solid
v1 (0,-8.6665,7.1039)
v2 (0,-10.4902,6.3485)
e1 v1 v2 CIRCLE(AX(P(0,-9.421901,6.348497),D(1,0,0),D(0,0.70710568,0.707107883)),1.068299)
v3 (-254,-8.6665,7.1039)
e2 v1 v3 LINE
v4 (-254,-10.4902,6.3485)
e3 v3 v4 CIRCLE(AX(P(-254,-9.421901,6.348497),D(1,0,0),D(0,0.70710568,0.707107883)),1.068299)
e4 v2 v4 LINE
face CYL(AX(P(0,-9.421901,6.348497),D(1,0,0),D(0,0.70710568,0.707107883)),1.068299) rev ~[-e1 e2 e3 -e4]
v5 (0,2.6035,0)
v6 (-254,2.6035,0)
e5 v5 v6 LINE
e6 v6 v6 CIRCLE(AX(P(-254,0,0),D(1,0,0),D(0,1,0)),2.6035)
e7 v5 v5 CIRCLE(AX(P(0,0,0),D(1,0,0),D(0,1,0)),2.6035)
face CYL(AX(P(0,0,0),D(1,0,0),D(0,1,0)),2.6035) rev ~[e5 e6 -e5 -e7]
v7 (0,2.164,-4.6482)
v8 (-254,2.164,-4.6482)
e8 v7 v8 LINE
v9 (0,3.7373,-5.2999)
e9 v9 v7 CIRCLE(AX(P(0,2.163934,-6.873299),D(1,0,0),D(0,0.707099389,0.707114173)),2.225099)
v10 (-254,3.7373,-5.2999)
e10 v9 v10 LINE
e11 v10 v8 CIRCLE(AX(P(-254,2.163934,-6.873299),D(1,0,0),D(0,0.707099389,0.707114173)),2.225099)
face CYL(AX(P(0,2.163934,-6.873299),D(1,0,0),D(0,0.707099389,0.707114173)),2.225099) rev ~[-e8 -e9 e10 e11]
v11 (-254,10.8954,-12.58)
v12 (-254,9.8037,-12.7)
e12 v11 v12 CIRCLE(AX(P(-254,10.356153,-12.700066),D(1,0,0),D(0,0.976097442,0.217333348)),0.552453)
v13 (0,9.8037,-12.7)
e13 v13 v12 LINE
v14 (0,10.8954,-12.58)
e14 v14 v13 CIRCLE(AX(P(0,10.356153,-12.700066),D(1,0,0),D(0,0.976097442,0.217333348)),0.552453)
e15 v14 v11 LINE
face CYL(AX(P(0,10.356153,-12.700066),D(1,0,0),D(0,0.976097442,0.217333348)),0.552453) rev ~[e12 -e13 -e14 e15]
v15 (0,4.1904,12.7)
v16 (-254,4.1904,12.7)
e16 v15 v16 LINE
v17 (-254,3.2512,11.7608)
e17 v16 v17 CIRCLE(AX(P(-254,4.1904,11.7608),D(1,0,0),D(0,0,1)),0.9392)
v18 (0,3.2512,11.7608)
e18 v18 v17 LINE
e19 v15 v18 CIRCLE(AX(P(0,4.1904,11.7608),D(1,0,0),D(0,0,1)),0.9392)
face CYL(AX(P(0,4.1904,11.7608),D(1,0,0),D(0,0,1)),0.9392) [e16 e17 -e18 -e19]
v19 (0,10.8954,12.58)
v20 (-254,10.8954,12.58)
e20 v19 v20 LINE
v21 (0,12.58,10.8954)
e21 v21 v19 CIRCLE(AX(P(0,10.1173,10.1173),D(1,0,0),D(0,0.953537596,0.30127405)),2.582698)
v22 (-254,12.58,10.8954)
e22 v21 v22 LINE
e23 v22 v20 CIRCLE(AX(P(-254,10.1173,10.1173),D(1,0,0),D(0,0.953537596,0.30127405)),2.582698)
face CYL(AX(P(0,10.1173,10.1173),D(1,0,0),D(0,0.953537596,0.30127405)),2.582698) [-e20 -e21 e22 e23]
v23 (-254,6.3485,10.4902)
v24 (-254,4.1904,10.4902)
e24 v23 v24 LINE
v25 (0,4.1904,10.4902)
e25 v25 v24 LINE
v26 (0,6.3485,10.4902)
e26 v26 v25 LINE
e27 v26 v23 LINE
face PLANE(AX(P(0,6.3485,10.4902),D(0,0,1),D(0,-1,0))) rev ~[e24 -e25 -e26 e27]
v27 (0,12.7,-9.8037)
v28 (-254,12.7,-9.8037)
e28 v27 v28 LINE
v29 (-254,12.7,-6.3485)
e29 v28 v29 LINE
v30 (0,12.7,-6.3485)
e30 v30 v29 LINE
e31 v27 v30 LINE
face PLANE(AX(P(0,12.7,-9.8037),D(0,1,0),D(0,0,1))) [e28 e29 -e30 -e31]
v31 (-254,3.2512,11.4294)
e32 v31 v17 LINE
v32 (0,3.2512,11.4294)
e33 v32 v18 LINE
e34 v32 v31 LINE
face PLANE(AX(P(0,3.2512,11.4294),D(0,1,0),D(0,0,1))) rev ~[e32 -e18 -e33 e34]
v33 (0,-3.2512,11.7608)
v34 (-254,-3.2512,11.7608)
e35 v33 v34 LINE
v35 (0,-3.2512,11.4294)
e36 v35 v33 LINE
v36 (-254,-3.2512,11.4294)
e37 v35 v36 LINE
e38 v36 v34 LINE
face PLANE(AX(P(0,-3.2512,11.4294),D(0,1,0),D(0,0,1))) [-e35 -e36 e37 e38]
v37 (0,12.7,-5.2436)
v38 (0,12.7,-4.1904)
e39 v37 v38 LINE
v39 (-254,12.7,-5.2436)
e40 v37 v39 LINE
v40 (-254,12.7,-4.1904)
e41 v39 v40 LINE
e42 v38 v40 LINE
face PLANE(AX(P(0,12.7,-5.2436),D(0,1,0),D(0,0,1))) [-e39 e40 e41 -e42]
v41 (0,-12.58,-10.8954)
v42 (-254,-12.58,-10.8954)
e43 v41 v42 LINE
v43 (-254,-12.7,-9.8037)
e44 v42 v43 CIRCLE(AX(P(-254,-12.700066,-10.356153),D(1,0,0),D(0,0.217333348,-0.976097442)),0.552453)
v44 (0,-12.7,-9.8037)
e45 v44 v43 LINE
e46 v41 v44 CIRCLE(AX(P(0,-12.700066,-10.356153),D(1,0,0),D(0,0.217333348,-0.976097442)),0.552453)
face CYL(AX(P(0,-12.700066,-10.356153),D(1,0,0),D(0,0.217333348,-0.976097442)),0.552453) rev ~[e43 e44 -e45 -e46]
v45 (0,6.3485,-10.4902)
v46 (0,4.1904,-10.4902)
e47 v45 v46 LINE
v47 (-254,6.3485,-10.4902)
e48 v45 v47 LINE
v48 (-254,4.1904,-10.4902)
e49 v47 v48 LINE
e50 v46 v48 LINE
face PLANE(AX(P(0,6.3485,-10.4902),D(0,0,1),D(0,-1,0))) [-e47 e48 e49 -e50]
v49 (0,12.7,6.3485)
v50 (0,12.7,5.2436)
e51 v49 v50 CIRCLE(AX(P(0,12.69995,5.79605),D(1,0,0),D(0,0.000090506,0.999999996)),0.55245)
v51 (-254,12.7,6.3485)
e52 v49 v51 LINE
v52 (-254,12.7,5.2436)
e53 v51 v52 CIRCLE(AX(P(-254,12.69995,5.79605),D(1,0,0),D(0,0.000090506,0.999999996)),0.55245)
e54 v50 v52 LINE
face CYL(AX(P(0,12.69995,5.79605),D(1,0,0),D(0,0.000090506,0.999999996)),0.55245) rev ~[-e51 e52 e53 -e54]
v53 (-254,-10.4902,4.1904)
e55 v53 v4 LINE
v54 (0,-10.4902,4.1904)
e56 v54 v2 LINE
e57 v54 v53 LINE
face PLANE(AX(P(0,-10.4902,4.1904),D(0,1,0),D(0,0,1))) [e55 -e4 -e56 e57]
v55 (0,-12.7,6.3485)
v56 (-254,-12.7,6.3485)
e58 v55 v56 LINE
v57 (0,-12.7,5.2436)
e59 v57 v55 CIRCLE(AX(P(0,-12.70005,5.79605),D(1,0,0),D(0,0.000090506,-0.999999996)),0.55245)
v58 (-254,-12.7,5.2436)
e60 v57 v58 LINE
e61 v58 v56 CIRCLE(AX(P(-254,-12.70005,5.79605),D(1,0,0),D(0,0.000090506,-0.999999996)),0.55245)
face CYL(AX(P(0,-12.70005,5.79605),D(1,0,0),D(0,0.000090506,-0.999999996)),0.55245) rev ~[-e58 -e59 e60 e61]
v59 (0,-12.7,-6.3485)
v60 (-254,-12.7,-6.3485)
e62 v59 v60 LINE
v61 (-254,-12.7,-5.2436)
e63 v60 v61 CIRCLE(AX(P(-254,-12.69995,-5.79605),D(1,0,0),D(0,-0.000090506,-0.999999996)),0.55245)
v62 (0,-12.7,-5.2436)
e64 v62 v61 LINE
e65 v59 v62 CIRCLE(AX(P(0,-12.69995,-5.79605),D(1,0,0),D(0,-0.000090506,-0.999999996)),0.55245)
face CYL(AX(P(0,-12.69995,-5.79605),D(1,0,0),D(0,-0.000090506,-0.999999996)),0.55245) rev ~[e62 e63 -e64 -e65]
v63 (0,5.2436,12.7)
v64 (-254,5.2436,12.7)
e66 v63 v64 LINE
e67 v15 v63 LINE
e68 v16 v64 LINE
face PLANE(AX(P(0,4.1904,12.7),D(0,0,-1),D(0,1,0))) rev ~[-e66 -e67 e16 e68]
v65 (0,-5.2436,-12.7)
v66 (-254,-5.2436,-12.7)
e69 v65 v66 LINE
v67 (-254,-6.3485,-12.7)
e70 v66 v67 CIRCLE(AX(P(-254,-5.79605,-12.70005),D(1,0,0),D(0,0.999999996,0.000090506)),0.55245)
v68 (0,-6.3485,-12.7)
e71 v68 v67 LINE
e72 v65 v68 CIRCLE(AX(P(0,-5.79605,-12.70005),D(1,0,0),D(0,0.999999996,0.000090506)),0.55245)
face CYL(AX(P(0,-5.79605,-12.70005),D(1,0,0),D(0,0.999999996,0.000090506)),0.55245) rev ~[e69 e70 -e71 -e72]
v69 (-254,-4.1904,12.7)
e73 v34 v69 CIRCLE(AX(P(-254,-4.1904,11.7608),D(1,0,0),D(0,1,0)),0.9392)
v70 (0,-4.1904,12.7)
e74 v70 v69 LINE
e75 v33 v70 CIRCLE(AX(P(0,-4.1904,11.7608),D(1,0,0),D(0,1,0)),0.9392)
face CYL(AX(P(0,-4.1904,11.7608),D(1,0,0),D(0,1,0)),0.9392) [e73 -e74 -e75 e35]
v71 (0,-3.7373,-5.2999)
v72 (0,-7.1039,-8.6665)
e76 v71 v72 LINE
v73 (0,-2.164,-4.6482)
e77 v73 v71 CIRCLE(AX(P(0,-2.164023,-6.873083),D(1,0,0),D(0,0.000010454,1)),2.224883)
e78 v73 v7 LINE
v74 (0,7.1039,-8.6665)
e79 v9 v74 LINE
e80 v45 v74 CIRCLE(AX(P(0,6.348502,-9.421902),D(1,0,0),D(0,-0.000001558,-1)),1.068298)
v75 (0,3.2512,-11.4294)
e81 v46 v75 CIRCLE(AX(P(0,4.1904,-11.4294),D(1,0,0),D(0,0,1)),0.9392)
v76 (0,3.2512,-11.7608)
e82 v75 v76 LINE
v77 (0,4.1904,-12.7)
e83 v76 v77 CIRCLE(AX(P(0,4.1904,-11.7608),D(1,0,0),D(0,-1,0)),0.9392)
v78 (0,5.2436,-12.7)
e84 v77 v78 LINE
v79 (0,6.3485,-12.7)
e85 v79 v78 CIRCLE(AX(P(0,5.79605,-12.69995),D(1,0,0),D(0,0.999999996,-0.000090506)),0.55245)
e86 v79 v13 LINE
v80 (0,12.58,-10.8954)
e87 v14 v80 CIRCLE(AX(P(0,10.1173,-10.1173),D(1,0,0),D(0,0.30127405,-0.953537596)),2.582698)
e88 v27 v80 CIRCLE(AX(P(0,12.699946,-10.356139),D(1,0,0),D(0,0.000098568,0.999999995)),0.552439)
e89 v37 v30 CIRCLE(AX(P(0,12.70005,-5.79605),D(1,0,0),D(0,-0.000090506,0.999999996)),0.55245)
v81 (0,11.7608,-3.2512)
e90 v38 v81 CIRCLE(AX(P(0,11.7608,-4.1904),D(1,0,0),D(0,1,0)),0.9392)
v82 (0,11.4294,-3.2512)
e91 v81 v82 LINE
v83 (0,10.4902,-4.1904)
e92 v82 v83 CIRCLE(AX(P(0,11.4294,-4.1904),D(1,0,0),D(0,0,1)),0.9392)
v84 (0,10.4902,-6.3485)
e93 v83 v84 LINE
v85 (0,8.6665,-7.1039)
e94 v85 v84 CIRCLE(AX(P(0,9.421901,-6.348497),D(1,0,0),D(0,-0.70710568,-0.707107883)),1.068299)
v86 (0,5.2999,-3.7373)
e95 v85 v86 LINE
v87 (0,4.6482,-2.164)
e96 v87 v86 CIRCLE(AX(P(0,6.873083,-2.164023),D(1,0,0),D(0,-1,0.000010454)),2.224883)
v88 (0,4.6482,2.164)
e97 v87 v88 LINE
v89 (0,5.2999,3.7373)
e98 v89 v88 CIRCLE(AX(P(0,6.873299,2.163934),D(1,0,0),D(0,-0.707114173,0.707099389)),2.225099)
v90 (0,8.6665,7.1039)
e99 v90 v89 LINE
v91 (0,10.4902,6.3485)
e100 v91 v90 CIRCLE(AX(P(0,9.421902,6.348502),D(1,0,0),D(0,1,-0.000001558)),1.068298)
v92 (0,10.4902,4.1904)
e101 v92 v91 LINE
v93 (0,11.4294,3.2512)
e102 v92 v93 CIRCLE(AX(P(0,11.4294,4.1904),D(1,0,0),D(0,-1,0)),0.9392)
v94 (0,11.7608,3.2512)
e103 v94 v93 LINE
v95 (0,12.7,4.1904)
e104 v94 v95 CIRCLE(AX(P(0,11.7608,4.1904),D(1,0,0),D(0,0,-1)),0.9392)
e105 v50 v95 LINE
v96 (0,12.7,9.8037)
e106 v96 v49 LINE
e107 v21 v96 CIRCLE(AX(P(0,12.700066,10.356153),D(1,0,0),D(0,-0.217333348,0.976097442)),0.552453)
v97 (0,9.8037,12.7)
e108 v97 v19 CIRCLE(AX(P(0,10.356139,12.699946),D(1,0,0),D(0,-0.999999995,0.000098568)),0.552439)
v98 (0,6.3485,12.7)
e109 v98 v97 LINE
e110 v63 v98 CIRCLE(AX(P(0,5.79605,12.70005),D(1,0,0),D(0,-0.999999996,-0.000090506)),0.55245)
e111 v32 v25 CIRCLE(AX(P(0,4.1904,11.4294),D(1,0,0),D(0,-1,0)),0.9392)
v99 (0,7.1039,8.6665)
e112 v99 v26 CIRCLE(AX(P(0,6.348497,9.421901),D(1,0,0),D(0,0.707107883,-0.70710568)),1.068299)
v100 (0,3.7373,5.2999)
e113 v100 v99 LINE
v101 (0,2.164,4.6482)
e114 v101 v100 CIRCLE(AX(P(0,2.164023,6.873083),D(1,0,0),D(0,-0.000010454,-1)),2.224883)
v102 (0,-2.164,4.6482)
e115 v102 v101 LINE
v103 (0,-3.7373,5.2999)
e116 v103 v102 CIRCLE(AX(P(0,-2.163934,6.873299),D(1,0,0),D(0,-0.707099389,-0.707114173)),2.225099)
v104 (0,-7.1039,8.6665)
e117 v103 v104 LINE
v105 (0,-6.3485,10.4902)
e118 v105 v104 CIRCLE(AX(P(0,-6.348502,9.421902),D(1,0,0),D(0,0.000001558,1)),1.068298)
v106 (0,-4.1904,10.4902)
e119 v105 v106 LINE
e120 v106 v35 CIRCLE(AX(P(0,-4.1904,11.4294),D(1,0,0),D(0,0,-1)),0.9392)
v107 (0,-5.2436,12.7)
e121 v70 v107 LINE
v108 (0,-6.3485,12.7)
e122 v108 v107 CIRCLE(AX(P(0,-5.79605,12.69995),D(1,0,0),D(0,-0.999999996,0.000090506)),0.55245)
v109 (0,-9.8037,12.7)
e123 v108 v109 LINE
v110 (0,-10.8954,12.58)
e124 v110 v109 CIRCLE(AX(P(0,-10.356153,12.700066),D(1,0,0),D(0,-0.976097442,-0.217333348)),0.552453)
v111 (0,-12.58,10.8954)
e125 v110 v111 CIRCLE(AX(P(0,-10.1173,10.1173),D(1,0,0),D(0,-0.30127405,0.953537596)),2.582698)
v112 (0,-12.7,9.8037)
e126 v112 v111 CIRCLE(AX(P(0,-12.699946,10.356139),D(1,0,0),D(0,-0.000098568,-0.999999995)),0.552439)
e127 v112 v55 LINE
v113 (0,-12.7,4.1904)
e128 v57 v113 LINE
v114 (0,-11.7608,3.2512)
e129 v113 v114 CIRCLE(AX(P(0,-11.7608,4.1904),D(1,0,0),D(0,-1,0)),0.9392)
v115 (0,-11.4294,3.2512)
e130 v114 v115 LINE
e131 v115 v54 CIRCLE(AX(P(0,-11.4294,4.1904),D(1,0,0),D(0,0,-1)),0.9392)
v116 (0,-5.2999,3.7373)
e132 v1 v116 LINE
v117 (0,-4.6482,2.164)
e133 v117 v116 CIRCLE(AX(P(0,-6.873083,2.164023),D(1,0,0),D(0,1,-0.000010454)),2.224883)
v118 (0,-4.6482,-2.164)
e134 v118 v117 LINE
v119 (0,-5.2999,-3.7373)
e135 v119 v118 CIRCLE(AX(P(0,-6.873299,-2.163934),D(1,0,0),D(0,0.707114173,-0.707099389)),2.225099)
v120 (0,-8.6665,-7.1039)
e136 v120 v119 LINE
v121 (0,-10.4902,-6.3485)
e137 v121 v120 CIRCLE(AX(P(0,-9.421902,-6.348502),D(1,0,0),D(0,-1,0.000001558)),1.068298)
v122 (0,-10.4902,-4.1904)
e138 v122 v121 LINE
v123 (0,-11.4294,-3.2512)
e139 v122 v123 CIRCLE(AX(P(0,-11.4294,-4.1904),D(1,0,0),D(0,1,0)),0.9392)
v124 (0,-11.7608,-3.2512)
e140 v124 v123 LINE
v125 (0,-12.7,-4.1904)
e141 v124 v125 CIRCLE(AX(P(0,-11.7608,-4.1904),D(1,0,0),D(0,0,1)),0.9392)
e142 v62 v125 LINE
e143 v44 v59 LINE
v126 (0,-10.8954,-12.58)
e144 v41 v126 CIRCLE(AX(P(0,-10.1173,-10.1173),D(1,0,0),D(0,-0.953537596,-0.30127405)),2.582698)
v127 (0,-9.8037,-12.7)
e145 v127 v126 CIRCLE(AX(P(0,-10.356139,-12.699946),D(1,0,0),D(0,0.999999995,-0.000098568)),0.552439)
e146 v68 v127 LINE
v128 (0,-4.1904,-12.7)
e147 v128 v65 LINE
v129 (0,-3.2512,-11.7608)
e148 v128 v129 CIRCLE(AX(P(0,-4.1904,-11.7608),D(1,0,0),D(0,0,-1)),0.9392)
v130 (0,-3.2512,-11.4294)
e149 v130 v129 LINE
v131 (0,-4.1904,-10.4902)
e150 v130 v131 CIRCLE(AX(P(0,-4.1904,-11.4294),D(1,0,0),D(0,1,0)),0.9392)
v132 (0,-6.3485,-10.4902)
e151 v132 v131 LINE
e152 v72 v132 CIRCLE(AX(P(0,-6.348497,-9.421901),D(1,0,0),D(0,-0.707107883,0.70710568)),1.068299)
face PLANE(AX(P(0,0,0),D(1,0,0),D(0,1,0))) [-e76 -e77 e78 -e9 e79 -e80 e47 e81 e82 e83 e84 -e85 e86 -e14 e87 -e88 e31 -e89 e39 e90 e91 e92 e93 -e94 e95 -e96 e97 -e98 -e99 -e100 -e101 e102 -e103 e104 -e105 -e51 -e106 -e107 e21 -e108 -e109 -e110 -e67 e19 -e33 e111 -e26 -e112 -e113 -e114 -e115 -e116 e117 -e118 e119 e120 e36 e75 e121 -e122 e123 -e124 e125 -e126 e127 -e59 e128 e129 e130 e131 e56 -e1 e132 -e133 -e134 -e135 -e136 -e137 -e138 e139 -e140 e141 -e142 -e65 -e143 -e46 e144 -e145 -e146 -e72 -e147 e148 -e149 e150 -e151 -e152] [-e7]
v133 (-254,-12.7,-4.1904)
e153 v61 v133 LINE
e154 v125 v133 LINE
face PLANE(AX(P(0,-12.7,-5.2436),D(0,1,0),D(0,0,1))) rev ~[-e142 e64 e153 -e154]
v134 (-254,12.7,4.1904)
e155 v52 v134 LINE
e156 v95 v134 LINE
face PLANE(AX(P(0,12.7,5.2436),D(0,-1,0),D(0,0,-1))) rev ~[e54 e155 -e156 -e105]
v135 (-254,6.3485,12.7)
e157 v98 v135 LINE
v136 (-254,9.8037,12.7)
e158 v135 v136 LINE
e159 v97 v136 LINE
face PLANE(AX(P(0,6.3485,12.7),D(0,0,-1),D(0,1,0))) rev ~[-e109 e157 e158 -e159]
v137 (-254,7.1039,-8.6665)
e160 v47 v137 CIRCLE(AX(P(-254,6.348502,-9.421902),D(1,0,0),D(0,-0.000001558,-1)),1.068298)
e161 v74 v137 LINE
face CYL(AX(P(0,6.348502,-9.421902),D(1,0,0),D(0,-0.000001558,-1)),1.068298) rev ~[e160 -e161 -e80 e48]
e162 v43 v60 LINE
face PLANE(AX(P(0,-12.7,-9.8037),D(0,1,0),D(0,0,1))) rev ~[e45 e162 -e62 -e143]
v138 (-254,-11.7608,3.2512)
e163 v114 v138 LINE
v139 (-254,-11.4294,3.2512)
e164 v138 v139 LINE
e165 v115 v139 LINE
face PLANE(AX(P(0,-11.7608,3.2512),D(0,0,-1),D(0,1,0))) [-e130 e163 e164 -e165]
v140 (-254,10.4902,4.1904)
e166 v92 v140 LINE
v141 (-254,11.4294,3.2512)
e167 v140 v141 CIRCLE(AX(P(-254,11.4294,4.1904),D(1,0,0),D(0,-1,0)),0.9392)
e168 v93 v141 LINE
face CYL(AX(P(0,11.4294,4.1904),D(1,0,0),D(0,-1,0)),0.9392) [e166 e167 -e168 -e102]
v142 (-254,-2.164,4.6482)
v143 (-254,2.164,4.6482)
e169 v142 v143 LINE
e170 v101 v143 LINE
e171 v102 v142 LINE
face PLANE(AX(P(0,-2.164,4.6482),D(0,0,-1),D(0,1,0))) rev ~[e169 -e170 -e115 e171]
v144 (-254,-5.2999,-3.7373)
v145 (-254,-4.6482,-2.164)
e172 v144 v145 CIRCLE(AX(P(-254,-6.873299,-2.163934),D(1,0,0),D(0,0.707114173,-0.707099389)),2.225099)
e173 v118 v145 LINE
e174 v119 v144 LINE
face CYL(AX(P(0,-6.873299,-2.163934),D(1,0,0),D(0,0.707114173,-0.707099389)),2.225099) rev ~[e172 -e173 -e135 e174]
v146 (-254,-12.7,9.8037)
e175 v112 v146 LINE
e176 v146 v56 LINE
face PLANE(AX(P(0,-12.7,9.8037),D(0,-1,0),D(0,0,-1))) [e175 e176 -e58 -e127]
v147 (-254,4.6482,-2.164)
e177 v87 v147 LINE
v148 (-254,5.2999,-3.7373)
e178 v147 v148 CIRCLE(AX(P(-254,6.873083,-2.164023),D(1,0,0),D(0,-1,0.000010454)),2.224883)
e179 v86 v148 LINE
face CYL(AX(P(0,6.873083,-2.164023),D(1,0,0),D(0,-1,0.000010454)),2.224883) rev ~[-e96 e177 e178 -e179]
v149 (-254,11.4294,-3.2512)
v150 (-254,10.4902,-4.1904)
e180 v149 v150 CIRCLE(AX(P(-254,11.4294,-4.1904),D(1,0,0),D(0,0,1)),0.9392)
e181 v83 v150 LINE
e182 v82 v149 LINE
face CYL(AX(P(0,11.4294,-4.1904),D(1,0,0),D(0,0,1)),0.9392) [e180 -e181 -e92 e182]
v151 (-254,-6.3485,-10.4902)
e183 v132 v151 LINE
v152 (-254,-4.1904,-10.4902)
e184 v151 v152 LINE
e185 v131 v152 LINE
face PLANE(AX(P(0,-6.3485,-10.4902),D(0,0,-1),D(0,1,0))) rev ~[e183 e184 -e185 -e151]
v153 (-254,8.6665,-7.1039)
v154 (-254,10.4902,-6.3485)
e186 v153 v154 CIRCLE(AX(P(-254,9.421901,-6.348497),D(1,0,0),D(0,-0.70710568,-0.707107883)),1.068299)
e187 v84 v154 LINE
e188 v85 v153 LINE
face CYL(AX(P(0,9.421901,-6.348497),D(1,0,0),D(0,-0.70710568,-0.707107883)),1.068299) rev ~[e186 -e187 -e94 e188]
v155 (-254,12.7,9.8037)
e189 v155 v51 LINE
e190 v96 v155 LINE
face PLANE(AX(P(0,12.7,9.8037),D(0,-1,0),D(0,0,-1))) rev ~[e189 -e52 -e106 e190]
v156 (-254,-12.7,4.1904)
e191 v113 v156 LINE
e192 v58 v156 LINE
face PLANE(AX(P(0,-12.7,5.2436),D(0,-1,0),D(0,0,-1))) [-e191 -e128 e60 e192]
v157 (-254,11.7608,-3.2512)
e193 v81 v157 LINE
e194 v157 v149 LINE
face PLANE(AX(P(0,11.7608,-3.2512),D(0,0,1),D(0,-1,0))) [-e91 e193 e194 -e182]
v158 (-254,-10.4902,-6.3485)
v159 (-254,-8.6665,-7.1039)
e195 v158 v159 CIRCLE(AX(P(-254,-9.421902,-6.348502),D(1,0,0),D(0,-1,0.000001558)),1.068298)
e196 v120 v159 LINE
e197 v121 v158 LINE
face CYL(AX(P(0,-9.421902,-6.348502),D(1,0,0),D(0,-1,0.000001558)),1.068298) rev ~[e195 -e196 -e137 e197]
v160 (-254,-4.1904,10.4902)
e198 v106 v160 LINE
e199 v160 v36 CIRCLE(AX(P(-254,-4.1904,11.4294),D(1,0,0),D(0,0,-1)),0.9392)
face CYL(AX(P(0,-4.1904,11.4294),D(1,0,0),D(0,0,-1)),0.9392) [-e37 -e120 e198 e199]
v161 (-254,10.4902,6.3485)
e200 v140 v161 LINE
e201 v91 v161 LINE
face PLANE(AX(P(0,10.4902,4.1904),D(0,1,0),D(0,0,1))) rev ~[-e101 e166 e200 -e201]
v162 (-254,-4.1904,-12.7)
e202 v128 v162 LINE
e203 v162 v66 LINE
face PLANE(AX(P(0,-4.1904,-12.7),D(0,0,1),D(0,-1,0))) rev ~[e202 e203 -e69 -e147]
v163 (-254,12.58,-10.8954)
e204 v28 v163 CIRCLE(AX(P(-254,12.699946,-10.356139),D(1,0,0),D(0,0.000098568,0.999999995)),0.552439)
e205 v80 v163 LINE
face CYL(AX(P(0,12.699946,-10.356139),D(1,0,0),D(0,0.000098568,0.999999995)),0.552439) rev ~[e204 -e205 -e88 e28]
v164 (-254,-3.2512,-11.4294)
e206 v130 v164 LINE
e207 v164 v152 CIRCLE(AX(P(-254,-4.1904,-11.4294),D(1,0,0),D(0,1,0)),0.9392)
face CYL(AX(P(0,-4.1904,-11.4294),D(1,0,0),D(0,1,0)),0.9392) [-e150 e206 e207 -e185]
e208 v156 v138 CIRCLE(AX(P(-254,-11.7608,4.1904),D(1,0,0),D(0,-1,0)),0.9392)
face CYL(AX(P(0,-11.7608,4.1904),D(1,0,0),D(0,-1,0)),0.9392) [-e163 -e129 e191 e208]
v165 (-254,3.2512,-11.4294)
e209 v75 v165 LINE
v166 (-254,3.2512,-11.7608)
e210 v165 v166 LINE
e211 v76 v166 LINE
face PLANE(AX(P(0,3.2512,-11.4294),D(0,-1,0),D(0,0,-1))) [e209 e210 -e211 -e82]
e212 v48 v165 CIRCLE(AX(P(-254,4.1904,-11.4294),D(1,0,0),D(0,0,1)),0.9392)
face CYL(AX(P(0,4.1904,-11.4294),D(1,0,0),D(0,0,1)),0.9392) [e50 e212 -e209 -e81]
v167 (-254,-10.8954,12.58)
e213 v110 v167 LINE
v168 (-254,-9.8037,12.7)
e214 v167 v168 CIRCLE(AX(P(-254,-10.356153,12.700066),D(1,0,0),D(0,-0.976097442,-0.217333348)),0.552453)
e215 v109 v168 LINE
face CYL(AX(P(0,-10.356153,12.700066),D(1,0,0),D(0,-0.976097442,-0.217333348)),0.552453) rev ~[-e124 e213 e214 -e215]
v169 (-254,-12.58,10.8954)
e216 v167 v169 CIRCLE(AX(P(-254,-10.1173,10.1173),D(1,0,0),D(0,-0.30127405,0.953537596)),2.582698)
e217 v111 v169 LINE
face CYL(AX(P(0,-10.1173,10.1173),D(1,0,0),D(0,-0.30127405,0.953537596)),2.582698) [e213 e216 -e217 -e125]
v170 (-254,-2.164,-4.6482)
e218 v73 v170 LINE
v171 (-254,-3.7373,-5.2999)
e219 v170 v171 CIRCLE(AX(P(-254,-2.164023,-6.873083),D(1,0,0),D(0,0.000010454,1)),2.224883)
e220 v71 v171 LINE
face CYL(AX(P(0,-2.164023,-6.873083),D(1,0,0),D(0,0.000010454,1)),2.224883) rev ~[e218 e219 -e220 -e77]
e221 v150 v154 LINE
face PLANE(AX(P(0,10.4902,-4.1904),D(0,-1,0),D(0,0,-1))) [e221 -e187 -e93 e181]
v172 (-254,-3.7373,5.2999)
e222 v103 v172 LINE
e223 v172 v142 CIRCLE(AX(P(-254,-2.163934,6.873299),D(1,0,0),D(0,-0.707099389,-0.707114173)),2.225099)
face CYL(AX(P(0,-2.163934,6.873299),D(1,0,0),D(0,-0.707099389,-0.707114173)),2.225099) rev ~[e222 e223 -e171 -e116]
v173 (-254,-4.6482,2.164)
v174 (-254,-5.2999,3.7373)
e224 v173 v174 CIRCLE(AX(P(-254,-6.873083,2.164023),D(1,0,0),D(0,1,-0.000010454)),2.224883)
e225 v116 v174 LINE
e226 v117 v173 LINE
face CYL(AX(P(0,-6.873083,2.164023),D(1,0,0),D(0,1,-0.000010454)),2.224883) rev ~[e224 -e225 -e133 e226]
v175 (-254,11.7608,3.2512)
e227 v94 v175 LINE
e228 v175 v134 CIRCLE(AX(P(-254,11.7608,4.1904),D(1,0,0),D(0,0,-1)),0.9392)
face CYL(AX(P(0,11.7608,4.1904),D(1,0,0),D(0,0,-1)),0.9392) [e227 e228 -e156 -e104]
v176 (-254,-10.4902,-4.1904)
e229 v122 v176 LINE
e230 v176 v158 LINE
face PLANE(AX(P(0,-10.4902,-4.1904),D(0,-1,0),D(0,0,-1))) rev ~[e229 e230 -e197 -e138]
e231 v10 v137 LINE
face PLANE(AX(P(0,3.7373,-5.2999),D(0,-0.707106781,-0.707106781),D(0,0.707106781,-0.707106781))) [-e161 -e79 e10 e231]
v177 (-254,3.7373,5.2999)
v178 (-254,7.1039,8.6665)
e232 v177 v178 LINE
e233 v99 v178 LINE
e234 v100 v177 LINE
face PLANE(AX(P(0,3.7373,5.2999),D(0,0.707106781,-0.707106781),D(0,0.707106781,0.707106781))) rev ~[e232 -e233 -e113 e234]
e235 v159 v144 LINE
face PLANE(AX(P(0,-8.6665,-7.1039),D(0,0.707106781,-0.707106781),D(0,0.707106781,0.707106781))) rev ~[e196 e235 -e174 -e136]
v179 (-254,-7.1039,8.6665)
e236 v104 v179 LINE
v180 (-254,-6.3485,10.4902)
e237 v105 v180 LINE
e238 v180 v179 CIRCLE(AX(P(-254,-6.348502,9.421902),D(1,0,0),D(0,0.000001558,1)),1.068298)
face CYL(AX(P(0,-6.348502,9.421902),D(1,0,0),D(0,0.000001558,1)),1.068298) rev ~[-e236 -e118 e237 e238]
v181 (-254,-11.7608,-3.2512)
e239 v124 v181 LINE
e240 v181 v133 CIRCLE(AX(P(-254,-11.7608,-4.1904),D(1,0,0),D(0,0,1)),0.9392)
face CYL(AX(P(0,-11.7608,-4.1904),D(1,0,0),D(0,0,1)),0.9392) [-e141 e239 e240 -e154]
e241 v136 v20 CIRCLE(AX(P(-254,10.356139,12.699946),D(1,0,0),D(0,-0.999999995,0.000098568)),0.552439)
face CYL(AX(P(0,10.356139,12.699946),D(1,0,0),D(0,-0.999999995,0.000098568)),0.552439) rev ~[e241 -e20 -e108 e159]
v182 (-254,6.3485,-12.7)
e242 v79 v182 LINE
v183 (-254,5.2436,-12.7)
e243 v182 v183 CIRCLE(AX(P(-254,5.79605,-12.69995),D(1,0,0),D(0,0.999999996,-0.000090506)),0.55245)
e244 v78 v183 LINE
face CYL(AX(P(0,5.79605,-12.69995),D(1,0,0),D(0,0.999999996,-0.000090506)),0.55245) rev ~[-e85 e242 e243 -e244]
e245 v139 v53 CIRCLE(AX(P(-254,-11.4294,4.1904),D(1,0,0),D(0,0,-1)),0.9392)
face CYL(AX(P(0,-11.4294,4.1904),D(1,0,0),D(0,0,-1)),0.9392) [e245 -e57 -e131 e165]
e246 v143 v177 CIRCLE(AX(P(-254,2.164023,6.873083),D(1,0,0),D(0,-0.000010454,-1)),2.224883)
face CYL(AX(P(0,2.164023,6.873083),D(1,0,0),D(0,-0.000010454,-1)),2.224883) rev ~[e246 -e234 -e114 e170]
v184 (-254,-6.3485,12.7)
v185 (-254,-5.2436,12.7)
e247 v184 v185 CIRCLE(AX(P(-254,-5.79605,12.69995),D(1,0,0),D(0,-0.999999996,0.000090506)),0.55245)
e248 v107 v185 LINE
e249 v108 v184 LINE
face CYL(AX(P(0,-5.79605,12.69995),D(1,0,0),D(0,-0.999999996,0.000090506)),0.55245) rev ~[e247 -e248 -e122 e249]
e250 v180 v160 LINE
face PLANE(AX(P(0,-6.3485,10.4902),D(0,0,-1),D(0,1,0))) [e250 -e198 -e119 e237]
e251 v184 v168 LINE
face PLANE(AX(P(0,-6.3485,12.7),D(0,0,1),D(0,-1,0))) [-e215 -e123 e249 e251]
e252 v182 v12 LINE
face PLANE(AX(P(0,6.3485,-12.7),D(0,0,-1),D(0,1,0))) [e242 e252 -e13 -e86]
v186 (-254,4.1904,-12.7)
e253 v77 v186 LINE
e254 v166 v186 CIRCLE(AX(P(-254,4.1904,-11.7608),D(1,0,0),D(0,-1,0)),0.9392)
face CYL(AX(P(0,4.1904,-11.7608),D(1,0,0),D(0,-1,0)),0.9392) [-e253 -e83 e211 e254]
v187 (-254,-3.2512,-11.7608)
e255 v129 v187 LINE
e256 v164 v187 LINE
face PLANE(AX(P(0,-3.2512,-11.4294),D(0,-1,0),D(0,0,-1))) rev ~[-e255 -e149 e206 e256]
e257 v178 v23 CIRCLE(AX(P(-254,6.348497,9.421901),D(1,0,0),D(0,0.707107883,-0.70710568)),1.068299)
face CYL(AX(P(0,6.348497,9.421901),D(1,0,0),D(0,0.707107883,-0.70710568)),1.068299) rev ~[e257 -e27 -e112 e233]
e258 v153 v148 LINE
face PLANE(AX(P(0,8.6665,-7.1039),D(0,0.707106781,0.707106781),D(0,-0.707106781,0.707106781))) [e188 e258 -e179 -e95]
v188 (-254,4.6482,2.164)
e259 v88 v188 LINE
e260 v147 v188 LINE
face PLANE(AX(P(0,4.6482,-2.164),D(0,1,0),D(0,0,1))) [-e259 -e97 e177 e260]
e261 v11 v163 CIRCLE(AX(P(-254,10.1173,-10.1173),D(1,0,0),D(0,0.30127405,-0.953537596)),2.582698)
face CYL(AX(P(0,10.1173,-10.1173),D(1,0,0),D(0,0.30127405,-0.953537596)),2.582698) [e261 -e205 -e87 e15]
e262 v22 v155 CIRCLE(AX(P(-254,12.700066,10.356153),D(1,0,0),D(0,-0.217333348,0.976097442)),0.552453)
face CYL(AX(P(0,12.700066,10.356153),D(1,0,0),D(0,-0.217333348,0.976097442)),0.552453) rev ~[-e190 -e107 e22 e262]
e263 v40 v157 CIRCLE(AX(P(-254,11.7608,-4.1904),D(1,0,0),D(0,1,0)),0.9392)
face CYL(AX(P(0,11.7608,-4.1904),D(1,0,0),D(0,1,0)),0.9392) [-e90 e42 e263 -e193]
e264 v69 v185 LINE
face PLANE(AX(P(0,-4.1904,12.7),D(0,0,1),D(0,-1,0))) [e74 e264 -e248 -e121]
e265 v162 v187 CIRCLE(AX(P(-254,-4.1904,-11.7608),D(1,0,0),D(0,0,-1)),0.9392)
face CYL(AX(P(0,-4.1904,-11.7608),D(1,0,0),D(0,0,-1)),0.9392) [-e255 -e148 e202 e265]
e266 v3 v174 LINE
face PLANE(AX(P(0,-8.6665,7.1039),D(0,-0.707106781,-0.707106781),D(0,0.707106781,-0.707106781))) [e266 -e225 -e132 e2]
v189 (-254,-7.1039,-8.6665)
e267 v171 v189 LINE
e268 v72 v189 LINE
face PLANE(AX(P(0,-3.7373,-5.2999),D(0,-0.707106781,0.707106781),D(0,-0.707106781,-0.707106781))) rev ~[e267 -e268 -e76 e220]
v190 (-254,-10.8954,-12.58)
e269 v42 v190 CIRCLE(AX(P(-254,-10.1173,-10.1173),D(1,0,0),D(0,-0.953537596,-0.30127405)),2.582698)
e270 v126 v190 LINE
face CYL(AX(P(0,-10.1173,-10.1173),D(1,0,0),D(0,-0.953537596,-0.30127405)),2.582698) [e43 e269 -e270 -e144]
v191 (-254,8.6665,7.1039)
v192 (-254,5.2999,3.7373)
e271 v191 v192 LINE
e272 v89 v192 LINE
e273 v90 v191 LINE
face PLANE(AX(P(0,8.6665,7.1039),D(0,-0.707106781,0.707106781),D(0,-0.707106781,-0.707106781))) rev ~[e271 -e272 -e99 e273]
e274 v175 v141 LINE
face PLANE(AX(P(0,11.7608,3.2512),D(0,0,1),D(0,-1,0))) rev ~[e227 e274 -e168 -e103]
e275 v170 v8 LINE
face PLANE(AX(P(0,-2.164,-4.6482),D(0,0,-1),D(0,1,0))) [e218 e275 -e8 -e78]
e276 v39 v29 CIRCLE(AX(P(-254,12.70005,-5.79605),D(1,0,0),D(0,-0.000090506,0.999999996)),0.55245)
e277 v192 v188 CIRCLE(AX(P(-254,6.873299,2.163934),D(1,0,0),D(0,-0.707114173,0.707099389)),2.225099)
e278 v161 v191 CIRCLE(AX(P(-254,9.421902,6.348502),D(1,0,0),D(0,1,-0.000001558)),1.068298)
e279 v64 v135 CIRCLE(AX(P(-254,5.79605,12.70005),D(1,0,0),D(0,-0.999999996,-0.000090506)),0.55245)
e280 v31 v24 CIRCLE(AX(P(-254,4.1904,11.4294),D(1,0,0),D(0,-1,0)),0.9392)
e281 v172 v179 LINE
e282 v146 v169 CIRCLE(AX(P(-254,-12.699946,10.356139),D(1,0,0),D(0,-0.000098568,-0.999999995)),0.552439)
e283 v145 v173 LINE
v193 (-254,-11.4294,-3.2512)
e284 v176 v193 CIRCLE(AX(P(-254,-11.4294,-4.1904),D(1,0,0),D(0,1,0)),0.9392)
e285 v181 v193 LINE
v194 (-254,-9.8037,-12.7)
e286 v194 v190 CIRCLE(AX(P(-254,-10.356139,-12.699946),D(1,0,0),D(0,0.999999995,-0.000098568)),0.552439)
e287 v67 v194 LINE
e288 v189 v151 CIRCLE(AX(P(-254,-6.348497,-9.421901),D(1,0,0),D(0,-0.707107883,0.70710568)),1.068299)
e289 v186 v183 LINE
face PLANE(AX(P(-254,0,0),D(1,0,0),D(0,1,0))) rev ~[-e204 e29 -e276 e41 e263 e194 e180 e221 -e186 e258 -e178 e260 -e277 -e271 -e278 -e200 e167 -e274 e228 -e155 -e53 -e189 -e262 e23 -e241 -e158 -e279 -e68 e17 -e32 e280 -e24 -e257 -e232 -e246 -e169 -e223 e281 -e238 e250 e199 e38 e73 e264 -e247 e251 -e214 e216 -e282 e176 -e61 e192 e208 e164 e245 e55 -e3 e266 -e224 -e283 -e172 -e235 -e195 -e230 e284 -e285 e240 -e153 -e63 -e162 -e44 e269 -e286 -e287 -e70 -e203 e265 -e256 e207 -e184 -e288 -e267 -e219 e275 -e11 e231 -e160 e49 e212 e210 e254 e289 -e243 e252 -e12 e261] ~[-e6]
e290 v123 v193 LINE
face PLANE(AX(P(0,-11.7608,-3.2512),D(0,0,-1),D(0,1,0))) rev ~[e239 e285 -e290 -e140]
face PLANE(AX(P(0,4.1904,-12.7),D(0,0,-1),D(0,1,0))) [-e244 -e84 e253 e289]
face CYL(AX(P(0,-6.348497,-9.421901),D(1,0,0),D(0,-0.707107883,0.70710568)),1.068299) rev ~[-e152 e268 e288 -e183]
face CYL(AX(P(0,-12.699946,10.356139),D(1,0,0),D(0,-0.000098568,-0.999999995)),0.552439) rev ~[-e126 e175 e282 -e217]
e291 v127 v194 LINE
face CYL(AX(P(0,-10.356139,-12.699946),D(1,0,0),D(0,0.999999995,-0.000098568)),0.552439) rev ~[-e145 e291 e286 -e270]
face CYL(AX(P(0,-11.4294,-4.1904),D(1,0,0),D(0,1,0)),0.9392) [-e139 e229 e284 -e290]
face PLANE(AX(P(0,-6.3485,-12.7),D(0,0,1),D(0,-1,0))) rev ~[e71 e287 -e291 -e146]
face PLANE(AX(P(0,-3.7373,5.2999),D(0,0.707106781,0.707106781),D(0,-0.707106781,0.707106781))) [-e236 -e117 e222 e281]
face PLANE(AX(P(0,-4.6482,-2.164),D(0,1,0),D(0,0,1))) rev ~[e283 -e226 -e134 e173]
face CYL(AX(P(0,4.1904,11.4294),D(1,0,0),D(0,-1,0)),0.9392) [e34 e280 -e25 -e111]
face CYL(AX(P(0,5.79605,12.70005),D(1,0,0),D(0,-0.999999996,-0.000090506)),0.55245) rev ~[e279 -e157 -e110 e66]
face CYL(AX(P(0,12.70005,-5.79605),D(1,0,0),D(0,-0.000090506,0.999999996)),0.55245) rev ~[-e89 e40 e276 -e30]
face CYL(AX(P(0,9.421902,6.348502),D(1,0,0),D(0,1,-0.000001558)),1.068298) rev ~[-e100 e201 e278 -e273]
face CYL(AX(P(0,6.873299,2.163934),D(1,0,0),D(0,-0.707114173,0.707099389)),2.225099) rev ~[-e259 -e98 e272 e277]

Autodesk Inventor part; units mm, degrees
ref_plane "YZ Plane" through (0, 0, 0) normal (1, 0, 0) x (0, 1, 0)
ref_plane "XZ Plane" through (0, 0, 0) normal (0, 1, 0) x (-1, 0, 0)
ref_plane "XY Plane" through (0, 0, 0) normal (0, 0, 1) x (1, 0, 0)
sketch "Sketch1" plane through (0, 0, 0) normal (1, 0, 0) x (0, 1, 0)
  arc A0 (12.7, -5.2436) -> (12.7, -6.3485) centre (12.7, -5.796) ccw
  line L0 (12.7, -5.2436) -> (12.7, -4.1904)
  arc A1 (12.7, -4.1904) -> (11.7608, -3.2512) centre (11.7608, -4.1904) ccw
  line L1 (11.7608, -3.2512) -> (11.4294, -3.2512)
  arc A2 (11.4294, -3.2512) -> (10.4902, -4.1904) centre (11.4294, -4.1904) ccw
  line L2 (10.4902, -4.1904) -> (10.4902, -6.3485)
  arc A3 (8.6665, -7.1039) -> (10.4902, -6.3485) centre (9.4219, -6.3485) ccw
  line L3 (8.6665, -7.1039) -> (5.2999, -3.7373)
  arc A4 (4.6482, -2.164) -> (5.2999, -3.7373) centre (6.8732, -2.164) ccw
  line L4 (4.6482, -2.164) -> (4.6482, 2.164)
  arc A5 (5.2999, 3.7373) -> (4.6482, 2.164) centre (6.8732, 2.164) ccw
  line L5 (8.6665, 7.1039) -> (5.2999, 3.7373)
  arc A6 (10.4902, 6.3485) -> (8.6665, 7.1039) centre (9.4219, 6.3485) ccw
  line L6 (10.4902, 4.1904) -> (10.4902, 6.3485)
  arc A7 (10.4902, 4.1904) -> (11.4294, 3.2512) centre (11.4294, 4.1904) ccw
  line L7 (11.7608, 3.2512) -> (11.4294, 3.2512)
  arc A8 (11.7608, 3.2512) -> (12.7, 4.1904) centre (11.7608, 4.1904) ccw
  line L8 (12.7, 5.2436) -> (12.7, 4.1904)
  arc A9 (12.7, 6.3485) -> (12.7, 5.2436) centre (12.7, 5.796) ccw
  line L9 (12.7, 9.8037) -> (12.7, 6.3485)
  arc A10 (12.58, 10.8954) -> (12.7, 9.8037) centre (12.7, 10.3562) ccw
  arc A11 (12.58, 10.8954) -> (10.8954, 12.58) centre (10.1173, 10.1173) ccw
  arc A12 (9.8037, 12.7) -> (10.8954, 12.58) centre (10.3562, 12.7) ccw
  line L10 (6.3485, 12.7) -> (9.8037, 12.7)
  arc A13 (5.2436, 12.7) -> (6.3485, 12.7) centre (5.796, 12.7) ccw
  line L11 (4.1904, 12.7) -> (5.2436, 12.7)
  arc A14 (4.1904, 12.7) -> (3.2512, 11.7608) centre (4.1904, 11.7608) ccw
  line L12 (3.2512, 11.4294) -> (3.2512, 11.7608)
  arc A15 (3.2512, 11.4294) -> (4.1904, 10.4902) centre (4.1904, 11.4294) ccw
  line L13 (6.3485, 10.4902) -> (4.1904, 10.4902)
  arc A16 (7.1039, 8.6665) -> (6.3485, 10.4902) centre (6.3485, 9.4219) ccw
  line L14 (3.7373, 5.2999) -> (7.1039, 8.6665)
  arc A17 (2.164, 4.6482) -> (3.7373, 5.2999) centre (2.164, 6.8732) ccw
  line L15 (-2.164, 4.6482) -> (2.164, 4.6482)
  arc A18 (-3.7373, 5.2999) -> (-2.164, 4.6482) centre (-2.164, 6.8732) ccw
  line L16 (-3.7373, 5.2999) -> (-7.1039, 8.6665)
  arc A19 (-6.3485, 10.4902) -> (-7.1039, 8.6665) centre (-6.3485, 9.4219) ccw
  line L17 (-6.3485, 10.4902) -> (-4.1904, 10.4902)
  arc A20 (-4.1904, 10.4902) -> (-3.2512, 11.4294) centre (-4.1904, 11.4294) ccw
  line L18 (-3.2512, 11.4294) -> (-3.2512, 11.7608)
  arc A21 (-3.2512, 11.7608) -> (-4.1904, 12.7) centre (-4.1904, 11.7608) ccw
  line L19 (-4.1904, 12.7) -> (-5.2436, 12.7)
  arc A22 (-6.3485, 12.7) -> (-5.2436, 12.7) centre (-5.796, 12.7) ccw
  line L20 (-6.3485, 12.7) -> (-9.8037, 12.7)
  arc A23 (-10.8954, 12.58) -> (-9.8037, 12.7) centre (-10.3562, 12.7) ccw
  arc A24 (-10.8954, 12.58) -> (-12.58, 10.8954) centre (-10.1173, 10.1173) ccw
  arc A25 (-12.7, 9.8037) -> (-12.58, 10.8954) centre (-12.7, 10.3562) ccw
  line L21 (-12.7, 9.8037) -> (-12.7, 6.3485)
  arc A26 (-12.7, 5.2436) -> (-12.7, 6.3485) centre (-12.7, 5.796) ccw
  line L22 (-12.7, 5.2436) -> (-12.7, 4.1904)
  arc A27 (-12.7, 4.1904) -> (-11.7608, 3.2512) centre (-11.7608, 4.1904) ccw
  line L23 (-11.7608, 3.2512) -> (-11.4294, 3.2512)
  arc A28 (-11.4294, 3.2512) -> (-10.4902, 4.1904) centre (-11.4294, 4.1904) ccw
  line L24 (-10.4902, 4.1904) -> (-10.4902, 6.3485)
  arc A29 (-8.6665, 7.1039) -> (-10.4902, 6.3485) centre (-9.4219, 6.3485) ccw
  line L25 (-8.6665, 7.1039) -> (-5.2999, 3.7373)
  arc A30 (-4.6482, 2.164) -> (-5.2999, 3.7373) centre (-6.8732, 2.164) ccw
  line L26 (-4.6482, -2.164) -> (-4.6482, 2.164)
  arc A31 (-5.2999, -3.7373) -> (-4.6482, -2.164) centre (-6.8732, -2.164) ccw
  line L27 (-8.6665, -7.1039) -> (-5.2999, -3.7373)
  arc A32 (-10.4902, -6.3485) -> (-8.6665, -7.1039) centre (-9.4219, -6.3485) ccw
  line L28 (-10.4902, -4.1904) -> (-10.4902, -6.3485)
  arc A33 (-10.4902, -4.1904) -> (-11.4294, -3.2512) centre (-11.4294, -4.1904) ccw
  line L29 (-11.7608, -3.2512) -> (-11.4294, -3.2512)
  arc A34 (-11.7608, -3.2512) -> (-12.7, -4.1904) centre (-11.7608, -4.1904) ccw
  line L30 (-12.7, -5.2436) -> (-12.7, -4.1904)
  arc A35 (-12.7, -6.3485) -> (-12.7, -5.2436) centre (-12.7, -5.796) ccw
  line L31 (-12.7, -9.8037) -> (-12.7, -6.3485)
  arc A36 (-12.58, -10.8954) -> (-12.7, -9.8037) centre (-12.7, -10.3562) ccw
  arc A37 (-12.58, -10.8954) -> (-10.8954, -12.58) centre (-10.1173, -10.1173) ccw
  arc A38 (-9.8037, -12.7) -> (-10.8954, -12.58) centre (-10.3562, -12.7) ccw
  line L32 (-6.3485, -12.7) -> (-9.8037, -12.7)
  arc A39 (-5.2436, -12.7) -> (-6.3485, -12.7) centre (-5.796, -12.7) ccw
  line L33 (-4.1904, -12.7) -> (-5.2436, -12.7)
  arc A40 (-4.1904, -12.7) -> (-3.2512, -11.7608) centre (-4.1904, -11.7608) ccw
  line L34 (-3.2512, -11.4294) -> (-3.2512, -11.7608)
  arc A41 (-3.2512, -11.4294) -> (-4.1904, -10.4902) centre (-4.1904, -11.4294) ccw
  line L35 (-6.3485, -10.4902) -> (-4.1904, -10.4902)
  arc A42 (-7.1039, -8.6665) -> (-6.3485, -10.4902) centre (-6.3485, -9.4219) ccw
  line L36 (-3.7373, -5.2999) -> (-7.1039, -8.6665)
  arc A43 (-2.164, -4.6482) -> (-3.7373, -5.2999) centre (-2.164, -6.8732) ccw
  line L37 (-2.164, -4.6482) -> (2.164, -4.6482)
  arc A44 (3.7373, -5.2999) -> (2.164, -4.6482) centre (2.164, -6.8732) ccw
  line L38 (3.7373, -5.2999) -> (7.1039, -8.6665)
  arc A45 (6.3485, -10.4902) -> (7.1039, -8.6665) centre (6.3485, -9.4219) ccw
  line L39 (6.3485, -10.4902) -> (4.1904, -10.4902)
  arc A46 (4.1904, -10.4902) -> (3.2512, -11.4294) centre (4.1904, -11.4294) ccw
  line L40 (3.2512, -11.4294) -> (3.2512, -11.7608)
  arc A47 (3.2512, -11.7608) -> (4.1904, -12.7) centre (4.1904, -11.7608) ccw
  line L41 (4.1904, -12.7) -> (5.2436, -12.7)
  arc A48 (6.3485, -12.7) -> (5.2436, -12.7) centre (5.796, -12.7) ccw
  line L42 (6.3485, -12.7) -> (9.8037, -12.7)
  arc A49 (10.8954, -12.58) -> (9.8037, -12.7) centre (10.3562, -12.7) ccw
  arc A50 (10.8954, -12.58) -> (12.58, -10.8954) centre (10.1173, -10.1173) ccw
  arc A51 (12.7, -9.8037) -> (12.58, -10.8954) centre (12.7, -10.3562) ccw
  line L43 (12.7, -9.8037) -> (12.7, -6.3485)
  circle A52 centre (0, 0) radius 2.6035
  point P0 (0, 0)
  point P1 (0, 0)
extrude "Extrusion1" add sketch "Sketch1" against normal blind 254
properties part number "10inStrut" material "Aluminum 6061"
